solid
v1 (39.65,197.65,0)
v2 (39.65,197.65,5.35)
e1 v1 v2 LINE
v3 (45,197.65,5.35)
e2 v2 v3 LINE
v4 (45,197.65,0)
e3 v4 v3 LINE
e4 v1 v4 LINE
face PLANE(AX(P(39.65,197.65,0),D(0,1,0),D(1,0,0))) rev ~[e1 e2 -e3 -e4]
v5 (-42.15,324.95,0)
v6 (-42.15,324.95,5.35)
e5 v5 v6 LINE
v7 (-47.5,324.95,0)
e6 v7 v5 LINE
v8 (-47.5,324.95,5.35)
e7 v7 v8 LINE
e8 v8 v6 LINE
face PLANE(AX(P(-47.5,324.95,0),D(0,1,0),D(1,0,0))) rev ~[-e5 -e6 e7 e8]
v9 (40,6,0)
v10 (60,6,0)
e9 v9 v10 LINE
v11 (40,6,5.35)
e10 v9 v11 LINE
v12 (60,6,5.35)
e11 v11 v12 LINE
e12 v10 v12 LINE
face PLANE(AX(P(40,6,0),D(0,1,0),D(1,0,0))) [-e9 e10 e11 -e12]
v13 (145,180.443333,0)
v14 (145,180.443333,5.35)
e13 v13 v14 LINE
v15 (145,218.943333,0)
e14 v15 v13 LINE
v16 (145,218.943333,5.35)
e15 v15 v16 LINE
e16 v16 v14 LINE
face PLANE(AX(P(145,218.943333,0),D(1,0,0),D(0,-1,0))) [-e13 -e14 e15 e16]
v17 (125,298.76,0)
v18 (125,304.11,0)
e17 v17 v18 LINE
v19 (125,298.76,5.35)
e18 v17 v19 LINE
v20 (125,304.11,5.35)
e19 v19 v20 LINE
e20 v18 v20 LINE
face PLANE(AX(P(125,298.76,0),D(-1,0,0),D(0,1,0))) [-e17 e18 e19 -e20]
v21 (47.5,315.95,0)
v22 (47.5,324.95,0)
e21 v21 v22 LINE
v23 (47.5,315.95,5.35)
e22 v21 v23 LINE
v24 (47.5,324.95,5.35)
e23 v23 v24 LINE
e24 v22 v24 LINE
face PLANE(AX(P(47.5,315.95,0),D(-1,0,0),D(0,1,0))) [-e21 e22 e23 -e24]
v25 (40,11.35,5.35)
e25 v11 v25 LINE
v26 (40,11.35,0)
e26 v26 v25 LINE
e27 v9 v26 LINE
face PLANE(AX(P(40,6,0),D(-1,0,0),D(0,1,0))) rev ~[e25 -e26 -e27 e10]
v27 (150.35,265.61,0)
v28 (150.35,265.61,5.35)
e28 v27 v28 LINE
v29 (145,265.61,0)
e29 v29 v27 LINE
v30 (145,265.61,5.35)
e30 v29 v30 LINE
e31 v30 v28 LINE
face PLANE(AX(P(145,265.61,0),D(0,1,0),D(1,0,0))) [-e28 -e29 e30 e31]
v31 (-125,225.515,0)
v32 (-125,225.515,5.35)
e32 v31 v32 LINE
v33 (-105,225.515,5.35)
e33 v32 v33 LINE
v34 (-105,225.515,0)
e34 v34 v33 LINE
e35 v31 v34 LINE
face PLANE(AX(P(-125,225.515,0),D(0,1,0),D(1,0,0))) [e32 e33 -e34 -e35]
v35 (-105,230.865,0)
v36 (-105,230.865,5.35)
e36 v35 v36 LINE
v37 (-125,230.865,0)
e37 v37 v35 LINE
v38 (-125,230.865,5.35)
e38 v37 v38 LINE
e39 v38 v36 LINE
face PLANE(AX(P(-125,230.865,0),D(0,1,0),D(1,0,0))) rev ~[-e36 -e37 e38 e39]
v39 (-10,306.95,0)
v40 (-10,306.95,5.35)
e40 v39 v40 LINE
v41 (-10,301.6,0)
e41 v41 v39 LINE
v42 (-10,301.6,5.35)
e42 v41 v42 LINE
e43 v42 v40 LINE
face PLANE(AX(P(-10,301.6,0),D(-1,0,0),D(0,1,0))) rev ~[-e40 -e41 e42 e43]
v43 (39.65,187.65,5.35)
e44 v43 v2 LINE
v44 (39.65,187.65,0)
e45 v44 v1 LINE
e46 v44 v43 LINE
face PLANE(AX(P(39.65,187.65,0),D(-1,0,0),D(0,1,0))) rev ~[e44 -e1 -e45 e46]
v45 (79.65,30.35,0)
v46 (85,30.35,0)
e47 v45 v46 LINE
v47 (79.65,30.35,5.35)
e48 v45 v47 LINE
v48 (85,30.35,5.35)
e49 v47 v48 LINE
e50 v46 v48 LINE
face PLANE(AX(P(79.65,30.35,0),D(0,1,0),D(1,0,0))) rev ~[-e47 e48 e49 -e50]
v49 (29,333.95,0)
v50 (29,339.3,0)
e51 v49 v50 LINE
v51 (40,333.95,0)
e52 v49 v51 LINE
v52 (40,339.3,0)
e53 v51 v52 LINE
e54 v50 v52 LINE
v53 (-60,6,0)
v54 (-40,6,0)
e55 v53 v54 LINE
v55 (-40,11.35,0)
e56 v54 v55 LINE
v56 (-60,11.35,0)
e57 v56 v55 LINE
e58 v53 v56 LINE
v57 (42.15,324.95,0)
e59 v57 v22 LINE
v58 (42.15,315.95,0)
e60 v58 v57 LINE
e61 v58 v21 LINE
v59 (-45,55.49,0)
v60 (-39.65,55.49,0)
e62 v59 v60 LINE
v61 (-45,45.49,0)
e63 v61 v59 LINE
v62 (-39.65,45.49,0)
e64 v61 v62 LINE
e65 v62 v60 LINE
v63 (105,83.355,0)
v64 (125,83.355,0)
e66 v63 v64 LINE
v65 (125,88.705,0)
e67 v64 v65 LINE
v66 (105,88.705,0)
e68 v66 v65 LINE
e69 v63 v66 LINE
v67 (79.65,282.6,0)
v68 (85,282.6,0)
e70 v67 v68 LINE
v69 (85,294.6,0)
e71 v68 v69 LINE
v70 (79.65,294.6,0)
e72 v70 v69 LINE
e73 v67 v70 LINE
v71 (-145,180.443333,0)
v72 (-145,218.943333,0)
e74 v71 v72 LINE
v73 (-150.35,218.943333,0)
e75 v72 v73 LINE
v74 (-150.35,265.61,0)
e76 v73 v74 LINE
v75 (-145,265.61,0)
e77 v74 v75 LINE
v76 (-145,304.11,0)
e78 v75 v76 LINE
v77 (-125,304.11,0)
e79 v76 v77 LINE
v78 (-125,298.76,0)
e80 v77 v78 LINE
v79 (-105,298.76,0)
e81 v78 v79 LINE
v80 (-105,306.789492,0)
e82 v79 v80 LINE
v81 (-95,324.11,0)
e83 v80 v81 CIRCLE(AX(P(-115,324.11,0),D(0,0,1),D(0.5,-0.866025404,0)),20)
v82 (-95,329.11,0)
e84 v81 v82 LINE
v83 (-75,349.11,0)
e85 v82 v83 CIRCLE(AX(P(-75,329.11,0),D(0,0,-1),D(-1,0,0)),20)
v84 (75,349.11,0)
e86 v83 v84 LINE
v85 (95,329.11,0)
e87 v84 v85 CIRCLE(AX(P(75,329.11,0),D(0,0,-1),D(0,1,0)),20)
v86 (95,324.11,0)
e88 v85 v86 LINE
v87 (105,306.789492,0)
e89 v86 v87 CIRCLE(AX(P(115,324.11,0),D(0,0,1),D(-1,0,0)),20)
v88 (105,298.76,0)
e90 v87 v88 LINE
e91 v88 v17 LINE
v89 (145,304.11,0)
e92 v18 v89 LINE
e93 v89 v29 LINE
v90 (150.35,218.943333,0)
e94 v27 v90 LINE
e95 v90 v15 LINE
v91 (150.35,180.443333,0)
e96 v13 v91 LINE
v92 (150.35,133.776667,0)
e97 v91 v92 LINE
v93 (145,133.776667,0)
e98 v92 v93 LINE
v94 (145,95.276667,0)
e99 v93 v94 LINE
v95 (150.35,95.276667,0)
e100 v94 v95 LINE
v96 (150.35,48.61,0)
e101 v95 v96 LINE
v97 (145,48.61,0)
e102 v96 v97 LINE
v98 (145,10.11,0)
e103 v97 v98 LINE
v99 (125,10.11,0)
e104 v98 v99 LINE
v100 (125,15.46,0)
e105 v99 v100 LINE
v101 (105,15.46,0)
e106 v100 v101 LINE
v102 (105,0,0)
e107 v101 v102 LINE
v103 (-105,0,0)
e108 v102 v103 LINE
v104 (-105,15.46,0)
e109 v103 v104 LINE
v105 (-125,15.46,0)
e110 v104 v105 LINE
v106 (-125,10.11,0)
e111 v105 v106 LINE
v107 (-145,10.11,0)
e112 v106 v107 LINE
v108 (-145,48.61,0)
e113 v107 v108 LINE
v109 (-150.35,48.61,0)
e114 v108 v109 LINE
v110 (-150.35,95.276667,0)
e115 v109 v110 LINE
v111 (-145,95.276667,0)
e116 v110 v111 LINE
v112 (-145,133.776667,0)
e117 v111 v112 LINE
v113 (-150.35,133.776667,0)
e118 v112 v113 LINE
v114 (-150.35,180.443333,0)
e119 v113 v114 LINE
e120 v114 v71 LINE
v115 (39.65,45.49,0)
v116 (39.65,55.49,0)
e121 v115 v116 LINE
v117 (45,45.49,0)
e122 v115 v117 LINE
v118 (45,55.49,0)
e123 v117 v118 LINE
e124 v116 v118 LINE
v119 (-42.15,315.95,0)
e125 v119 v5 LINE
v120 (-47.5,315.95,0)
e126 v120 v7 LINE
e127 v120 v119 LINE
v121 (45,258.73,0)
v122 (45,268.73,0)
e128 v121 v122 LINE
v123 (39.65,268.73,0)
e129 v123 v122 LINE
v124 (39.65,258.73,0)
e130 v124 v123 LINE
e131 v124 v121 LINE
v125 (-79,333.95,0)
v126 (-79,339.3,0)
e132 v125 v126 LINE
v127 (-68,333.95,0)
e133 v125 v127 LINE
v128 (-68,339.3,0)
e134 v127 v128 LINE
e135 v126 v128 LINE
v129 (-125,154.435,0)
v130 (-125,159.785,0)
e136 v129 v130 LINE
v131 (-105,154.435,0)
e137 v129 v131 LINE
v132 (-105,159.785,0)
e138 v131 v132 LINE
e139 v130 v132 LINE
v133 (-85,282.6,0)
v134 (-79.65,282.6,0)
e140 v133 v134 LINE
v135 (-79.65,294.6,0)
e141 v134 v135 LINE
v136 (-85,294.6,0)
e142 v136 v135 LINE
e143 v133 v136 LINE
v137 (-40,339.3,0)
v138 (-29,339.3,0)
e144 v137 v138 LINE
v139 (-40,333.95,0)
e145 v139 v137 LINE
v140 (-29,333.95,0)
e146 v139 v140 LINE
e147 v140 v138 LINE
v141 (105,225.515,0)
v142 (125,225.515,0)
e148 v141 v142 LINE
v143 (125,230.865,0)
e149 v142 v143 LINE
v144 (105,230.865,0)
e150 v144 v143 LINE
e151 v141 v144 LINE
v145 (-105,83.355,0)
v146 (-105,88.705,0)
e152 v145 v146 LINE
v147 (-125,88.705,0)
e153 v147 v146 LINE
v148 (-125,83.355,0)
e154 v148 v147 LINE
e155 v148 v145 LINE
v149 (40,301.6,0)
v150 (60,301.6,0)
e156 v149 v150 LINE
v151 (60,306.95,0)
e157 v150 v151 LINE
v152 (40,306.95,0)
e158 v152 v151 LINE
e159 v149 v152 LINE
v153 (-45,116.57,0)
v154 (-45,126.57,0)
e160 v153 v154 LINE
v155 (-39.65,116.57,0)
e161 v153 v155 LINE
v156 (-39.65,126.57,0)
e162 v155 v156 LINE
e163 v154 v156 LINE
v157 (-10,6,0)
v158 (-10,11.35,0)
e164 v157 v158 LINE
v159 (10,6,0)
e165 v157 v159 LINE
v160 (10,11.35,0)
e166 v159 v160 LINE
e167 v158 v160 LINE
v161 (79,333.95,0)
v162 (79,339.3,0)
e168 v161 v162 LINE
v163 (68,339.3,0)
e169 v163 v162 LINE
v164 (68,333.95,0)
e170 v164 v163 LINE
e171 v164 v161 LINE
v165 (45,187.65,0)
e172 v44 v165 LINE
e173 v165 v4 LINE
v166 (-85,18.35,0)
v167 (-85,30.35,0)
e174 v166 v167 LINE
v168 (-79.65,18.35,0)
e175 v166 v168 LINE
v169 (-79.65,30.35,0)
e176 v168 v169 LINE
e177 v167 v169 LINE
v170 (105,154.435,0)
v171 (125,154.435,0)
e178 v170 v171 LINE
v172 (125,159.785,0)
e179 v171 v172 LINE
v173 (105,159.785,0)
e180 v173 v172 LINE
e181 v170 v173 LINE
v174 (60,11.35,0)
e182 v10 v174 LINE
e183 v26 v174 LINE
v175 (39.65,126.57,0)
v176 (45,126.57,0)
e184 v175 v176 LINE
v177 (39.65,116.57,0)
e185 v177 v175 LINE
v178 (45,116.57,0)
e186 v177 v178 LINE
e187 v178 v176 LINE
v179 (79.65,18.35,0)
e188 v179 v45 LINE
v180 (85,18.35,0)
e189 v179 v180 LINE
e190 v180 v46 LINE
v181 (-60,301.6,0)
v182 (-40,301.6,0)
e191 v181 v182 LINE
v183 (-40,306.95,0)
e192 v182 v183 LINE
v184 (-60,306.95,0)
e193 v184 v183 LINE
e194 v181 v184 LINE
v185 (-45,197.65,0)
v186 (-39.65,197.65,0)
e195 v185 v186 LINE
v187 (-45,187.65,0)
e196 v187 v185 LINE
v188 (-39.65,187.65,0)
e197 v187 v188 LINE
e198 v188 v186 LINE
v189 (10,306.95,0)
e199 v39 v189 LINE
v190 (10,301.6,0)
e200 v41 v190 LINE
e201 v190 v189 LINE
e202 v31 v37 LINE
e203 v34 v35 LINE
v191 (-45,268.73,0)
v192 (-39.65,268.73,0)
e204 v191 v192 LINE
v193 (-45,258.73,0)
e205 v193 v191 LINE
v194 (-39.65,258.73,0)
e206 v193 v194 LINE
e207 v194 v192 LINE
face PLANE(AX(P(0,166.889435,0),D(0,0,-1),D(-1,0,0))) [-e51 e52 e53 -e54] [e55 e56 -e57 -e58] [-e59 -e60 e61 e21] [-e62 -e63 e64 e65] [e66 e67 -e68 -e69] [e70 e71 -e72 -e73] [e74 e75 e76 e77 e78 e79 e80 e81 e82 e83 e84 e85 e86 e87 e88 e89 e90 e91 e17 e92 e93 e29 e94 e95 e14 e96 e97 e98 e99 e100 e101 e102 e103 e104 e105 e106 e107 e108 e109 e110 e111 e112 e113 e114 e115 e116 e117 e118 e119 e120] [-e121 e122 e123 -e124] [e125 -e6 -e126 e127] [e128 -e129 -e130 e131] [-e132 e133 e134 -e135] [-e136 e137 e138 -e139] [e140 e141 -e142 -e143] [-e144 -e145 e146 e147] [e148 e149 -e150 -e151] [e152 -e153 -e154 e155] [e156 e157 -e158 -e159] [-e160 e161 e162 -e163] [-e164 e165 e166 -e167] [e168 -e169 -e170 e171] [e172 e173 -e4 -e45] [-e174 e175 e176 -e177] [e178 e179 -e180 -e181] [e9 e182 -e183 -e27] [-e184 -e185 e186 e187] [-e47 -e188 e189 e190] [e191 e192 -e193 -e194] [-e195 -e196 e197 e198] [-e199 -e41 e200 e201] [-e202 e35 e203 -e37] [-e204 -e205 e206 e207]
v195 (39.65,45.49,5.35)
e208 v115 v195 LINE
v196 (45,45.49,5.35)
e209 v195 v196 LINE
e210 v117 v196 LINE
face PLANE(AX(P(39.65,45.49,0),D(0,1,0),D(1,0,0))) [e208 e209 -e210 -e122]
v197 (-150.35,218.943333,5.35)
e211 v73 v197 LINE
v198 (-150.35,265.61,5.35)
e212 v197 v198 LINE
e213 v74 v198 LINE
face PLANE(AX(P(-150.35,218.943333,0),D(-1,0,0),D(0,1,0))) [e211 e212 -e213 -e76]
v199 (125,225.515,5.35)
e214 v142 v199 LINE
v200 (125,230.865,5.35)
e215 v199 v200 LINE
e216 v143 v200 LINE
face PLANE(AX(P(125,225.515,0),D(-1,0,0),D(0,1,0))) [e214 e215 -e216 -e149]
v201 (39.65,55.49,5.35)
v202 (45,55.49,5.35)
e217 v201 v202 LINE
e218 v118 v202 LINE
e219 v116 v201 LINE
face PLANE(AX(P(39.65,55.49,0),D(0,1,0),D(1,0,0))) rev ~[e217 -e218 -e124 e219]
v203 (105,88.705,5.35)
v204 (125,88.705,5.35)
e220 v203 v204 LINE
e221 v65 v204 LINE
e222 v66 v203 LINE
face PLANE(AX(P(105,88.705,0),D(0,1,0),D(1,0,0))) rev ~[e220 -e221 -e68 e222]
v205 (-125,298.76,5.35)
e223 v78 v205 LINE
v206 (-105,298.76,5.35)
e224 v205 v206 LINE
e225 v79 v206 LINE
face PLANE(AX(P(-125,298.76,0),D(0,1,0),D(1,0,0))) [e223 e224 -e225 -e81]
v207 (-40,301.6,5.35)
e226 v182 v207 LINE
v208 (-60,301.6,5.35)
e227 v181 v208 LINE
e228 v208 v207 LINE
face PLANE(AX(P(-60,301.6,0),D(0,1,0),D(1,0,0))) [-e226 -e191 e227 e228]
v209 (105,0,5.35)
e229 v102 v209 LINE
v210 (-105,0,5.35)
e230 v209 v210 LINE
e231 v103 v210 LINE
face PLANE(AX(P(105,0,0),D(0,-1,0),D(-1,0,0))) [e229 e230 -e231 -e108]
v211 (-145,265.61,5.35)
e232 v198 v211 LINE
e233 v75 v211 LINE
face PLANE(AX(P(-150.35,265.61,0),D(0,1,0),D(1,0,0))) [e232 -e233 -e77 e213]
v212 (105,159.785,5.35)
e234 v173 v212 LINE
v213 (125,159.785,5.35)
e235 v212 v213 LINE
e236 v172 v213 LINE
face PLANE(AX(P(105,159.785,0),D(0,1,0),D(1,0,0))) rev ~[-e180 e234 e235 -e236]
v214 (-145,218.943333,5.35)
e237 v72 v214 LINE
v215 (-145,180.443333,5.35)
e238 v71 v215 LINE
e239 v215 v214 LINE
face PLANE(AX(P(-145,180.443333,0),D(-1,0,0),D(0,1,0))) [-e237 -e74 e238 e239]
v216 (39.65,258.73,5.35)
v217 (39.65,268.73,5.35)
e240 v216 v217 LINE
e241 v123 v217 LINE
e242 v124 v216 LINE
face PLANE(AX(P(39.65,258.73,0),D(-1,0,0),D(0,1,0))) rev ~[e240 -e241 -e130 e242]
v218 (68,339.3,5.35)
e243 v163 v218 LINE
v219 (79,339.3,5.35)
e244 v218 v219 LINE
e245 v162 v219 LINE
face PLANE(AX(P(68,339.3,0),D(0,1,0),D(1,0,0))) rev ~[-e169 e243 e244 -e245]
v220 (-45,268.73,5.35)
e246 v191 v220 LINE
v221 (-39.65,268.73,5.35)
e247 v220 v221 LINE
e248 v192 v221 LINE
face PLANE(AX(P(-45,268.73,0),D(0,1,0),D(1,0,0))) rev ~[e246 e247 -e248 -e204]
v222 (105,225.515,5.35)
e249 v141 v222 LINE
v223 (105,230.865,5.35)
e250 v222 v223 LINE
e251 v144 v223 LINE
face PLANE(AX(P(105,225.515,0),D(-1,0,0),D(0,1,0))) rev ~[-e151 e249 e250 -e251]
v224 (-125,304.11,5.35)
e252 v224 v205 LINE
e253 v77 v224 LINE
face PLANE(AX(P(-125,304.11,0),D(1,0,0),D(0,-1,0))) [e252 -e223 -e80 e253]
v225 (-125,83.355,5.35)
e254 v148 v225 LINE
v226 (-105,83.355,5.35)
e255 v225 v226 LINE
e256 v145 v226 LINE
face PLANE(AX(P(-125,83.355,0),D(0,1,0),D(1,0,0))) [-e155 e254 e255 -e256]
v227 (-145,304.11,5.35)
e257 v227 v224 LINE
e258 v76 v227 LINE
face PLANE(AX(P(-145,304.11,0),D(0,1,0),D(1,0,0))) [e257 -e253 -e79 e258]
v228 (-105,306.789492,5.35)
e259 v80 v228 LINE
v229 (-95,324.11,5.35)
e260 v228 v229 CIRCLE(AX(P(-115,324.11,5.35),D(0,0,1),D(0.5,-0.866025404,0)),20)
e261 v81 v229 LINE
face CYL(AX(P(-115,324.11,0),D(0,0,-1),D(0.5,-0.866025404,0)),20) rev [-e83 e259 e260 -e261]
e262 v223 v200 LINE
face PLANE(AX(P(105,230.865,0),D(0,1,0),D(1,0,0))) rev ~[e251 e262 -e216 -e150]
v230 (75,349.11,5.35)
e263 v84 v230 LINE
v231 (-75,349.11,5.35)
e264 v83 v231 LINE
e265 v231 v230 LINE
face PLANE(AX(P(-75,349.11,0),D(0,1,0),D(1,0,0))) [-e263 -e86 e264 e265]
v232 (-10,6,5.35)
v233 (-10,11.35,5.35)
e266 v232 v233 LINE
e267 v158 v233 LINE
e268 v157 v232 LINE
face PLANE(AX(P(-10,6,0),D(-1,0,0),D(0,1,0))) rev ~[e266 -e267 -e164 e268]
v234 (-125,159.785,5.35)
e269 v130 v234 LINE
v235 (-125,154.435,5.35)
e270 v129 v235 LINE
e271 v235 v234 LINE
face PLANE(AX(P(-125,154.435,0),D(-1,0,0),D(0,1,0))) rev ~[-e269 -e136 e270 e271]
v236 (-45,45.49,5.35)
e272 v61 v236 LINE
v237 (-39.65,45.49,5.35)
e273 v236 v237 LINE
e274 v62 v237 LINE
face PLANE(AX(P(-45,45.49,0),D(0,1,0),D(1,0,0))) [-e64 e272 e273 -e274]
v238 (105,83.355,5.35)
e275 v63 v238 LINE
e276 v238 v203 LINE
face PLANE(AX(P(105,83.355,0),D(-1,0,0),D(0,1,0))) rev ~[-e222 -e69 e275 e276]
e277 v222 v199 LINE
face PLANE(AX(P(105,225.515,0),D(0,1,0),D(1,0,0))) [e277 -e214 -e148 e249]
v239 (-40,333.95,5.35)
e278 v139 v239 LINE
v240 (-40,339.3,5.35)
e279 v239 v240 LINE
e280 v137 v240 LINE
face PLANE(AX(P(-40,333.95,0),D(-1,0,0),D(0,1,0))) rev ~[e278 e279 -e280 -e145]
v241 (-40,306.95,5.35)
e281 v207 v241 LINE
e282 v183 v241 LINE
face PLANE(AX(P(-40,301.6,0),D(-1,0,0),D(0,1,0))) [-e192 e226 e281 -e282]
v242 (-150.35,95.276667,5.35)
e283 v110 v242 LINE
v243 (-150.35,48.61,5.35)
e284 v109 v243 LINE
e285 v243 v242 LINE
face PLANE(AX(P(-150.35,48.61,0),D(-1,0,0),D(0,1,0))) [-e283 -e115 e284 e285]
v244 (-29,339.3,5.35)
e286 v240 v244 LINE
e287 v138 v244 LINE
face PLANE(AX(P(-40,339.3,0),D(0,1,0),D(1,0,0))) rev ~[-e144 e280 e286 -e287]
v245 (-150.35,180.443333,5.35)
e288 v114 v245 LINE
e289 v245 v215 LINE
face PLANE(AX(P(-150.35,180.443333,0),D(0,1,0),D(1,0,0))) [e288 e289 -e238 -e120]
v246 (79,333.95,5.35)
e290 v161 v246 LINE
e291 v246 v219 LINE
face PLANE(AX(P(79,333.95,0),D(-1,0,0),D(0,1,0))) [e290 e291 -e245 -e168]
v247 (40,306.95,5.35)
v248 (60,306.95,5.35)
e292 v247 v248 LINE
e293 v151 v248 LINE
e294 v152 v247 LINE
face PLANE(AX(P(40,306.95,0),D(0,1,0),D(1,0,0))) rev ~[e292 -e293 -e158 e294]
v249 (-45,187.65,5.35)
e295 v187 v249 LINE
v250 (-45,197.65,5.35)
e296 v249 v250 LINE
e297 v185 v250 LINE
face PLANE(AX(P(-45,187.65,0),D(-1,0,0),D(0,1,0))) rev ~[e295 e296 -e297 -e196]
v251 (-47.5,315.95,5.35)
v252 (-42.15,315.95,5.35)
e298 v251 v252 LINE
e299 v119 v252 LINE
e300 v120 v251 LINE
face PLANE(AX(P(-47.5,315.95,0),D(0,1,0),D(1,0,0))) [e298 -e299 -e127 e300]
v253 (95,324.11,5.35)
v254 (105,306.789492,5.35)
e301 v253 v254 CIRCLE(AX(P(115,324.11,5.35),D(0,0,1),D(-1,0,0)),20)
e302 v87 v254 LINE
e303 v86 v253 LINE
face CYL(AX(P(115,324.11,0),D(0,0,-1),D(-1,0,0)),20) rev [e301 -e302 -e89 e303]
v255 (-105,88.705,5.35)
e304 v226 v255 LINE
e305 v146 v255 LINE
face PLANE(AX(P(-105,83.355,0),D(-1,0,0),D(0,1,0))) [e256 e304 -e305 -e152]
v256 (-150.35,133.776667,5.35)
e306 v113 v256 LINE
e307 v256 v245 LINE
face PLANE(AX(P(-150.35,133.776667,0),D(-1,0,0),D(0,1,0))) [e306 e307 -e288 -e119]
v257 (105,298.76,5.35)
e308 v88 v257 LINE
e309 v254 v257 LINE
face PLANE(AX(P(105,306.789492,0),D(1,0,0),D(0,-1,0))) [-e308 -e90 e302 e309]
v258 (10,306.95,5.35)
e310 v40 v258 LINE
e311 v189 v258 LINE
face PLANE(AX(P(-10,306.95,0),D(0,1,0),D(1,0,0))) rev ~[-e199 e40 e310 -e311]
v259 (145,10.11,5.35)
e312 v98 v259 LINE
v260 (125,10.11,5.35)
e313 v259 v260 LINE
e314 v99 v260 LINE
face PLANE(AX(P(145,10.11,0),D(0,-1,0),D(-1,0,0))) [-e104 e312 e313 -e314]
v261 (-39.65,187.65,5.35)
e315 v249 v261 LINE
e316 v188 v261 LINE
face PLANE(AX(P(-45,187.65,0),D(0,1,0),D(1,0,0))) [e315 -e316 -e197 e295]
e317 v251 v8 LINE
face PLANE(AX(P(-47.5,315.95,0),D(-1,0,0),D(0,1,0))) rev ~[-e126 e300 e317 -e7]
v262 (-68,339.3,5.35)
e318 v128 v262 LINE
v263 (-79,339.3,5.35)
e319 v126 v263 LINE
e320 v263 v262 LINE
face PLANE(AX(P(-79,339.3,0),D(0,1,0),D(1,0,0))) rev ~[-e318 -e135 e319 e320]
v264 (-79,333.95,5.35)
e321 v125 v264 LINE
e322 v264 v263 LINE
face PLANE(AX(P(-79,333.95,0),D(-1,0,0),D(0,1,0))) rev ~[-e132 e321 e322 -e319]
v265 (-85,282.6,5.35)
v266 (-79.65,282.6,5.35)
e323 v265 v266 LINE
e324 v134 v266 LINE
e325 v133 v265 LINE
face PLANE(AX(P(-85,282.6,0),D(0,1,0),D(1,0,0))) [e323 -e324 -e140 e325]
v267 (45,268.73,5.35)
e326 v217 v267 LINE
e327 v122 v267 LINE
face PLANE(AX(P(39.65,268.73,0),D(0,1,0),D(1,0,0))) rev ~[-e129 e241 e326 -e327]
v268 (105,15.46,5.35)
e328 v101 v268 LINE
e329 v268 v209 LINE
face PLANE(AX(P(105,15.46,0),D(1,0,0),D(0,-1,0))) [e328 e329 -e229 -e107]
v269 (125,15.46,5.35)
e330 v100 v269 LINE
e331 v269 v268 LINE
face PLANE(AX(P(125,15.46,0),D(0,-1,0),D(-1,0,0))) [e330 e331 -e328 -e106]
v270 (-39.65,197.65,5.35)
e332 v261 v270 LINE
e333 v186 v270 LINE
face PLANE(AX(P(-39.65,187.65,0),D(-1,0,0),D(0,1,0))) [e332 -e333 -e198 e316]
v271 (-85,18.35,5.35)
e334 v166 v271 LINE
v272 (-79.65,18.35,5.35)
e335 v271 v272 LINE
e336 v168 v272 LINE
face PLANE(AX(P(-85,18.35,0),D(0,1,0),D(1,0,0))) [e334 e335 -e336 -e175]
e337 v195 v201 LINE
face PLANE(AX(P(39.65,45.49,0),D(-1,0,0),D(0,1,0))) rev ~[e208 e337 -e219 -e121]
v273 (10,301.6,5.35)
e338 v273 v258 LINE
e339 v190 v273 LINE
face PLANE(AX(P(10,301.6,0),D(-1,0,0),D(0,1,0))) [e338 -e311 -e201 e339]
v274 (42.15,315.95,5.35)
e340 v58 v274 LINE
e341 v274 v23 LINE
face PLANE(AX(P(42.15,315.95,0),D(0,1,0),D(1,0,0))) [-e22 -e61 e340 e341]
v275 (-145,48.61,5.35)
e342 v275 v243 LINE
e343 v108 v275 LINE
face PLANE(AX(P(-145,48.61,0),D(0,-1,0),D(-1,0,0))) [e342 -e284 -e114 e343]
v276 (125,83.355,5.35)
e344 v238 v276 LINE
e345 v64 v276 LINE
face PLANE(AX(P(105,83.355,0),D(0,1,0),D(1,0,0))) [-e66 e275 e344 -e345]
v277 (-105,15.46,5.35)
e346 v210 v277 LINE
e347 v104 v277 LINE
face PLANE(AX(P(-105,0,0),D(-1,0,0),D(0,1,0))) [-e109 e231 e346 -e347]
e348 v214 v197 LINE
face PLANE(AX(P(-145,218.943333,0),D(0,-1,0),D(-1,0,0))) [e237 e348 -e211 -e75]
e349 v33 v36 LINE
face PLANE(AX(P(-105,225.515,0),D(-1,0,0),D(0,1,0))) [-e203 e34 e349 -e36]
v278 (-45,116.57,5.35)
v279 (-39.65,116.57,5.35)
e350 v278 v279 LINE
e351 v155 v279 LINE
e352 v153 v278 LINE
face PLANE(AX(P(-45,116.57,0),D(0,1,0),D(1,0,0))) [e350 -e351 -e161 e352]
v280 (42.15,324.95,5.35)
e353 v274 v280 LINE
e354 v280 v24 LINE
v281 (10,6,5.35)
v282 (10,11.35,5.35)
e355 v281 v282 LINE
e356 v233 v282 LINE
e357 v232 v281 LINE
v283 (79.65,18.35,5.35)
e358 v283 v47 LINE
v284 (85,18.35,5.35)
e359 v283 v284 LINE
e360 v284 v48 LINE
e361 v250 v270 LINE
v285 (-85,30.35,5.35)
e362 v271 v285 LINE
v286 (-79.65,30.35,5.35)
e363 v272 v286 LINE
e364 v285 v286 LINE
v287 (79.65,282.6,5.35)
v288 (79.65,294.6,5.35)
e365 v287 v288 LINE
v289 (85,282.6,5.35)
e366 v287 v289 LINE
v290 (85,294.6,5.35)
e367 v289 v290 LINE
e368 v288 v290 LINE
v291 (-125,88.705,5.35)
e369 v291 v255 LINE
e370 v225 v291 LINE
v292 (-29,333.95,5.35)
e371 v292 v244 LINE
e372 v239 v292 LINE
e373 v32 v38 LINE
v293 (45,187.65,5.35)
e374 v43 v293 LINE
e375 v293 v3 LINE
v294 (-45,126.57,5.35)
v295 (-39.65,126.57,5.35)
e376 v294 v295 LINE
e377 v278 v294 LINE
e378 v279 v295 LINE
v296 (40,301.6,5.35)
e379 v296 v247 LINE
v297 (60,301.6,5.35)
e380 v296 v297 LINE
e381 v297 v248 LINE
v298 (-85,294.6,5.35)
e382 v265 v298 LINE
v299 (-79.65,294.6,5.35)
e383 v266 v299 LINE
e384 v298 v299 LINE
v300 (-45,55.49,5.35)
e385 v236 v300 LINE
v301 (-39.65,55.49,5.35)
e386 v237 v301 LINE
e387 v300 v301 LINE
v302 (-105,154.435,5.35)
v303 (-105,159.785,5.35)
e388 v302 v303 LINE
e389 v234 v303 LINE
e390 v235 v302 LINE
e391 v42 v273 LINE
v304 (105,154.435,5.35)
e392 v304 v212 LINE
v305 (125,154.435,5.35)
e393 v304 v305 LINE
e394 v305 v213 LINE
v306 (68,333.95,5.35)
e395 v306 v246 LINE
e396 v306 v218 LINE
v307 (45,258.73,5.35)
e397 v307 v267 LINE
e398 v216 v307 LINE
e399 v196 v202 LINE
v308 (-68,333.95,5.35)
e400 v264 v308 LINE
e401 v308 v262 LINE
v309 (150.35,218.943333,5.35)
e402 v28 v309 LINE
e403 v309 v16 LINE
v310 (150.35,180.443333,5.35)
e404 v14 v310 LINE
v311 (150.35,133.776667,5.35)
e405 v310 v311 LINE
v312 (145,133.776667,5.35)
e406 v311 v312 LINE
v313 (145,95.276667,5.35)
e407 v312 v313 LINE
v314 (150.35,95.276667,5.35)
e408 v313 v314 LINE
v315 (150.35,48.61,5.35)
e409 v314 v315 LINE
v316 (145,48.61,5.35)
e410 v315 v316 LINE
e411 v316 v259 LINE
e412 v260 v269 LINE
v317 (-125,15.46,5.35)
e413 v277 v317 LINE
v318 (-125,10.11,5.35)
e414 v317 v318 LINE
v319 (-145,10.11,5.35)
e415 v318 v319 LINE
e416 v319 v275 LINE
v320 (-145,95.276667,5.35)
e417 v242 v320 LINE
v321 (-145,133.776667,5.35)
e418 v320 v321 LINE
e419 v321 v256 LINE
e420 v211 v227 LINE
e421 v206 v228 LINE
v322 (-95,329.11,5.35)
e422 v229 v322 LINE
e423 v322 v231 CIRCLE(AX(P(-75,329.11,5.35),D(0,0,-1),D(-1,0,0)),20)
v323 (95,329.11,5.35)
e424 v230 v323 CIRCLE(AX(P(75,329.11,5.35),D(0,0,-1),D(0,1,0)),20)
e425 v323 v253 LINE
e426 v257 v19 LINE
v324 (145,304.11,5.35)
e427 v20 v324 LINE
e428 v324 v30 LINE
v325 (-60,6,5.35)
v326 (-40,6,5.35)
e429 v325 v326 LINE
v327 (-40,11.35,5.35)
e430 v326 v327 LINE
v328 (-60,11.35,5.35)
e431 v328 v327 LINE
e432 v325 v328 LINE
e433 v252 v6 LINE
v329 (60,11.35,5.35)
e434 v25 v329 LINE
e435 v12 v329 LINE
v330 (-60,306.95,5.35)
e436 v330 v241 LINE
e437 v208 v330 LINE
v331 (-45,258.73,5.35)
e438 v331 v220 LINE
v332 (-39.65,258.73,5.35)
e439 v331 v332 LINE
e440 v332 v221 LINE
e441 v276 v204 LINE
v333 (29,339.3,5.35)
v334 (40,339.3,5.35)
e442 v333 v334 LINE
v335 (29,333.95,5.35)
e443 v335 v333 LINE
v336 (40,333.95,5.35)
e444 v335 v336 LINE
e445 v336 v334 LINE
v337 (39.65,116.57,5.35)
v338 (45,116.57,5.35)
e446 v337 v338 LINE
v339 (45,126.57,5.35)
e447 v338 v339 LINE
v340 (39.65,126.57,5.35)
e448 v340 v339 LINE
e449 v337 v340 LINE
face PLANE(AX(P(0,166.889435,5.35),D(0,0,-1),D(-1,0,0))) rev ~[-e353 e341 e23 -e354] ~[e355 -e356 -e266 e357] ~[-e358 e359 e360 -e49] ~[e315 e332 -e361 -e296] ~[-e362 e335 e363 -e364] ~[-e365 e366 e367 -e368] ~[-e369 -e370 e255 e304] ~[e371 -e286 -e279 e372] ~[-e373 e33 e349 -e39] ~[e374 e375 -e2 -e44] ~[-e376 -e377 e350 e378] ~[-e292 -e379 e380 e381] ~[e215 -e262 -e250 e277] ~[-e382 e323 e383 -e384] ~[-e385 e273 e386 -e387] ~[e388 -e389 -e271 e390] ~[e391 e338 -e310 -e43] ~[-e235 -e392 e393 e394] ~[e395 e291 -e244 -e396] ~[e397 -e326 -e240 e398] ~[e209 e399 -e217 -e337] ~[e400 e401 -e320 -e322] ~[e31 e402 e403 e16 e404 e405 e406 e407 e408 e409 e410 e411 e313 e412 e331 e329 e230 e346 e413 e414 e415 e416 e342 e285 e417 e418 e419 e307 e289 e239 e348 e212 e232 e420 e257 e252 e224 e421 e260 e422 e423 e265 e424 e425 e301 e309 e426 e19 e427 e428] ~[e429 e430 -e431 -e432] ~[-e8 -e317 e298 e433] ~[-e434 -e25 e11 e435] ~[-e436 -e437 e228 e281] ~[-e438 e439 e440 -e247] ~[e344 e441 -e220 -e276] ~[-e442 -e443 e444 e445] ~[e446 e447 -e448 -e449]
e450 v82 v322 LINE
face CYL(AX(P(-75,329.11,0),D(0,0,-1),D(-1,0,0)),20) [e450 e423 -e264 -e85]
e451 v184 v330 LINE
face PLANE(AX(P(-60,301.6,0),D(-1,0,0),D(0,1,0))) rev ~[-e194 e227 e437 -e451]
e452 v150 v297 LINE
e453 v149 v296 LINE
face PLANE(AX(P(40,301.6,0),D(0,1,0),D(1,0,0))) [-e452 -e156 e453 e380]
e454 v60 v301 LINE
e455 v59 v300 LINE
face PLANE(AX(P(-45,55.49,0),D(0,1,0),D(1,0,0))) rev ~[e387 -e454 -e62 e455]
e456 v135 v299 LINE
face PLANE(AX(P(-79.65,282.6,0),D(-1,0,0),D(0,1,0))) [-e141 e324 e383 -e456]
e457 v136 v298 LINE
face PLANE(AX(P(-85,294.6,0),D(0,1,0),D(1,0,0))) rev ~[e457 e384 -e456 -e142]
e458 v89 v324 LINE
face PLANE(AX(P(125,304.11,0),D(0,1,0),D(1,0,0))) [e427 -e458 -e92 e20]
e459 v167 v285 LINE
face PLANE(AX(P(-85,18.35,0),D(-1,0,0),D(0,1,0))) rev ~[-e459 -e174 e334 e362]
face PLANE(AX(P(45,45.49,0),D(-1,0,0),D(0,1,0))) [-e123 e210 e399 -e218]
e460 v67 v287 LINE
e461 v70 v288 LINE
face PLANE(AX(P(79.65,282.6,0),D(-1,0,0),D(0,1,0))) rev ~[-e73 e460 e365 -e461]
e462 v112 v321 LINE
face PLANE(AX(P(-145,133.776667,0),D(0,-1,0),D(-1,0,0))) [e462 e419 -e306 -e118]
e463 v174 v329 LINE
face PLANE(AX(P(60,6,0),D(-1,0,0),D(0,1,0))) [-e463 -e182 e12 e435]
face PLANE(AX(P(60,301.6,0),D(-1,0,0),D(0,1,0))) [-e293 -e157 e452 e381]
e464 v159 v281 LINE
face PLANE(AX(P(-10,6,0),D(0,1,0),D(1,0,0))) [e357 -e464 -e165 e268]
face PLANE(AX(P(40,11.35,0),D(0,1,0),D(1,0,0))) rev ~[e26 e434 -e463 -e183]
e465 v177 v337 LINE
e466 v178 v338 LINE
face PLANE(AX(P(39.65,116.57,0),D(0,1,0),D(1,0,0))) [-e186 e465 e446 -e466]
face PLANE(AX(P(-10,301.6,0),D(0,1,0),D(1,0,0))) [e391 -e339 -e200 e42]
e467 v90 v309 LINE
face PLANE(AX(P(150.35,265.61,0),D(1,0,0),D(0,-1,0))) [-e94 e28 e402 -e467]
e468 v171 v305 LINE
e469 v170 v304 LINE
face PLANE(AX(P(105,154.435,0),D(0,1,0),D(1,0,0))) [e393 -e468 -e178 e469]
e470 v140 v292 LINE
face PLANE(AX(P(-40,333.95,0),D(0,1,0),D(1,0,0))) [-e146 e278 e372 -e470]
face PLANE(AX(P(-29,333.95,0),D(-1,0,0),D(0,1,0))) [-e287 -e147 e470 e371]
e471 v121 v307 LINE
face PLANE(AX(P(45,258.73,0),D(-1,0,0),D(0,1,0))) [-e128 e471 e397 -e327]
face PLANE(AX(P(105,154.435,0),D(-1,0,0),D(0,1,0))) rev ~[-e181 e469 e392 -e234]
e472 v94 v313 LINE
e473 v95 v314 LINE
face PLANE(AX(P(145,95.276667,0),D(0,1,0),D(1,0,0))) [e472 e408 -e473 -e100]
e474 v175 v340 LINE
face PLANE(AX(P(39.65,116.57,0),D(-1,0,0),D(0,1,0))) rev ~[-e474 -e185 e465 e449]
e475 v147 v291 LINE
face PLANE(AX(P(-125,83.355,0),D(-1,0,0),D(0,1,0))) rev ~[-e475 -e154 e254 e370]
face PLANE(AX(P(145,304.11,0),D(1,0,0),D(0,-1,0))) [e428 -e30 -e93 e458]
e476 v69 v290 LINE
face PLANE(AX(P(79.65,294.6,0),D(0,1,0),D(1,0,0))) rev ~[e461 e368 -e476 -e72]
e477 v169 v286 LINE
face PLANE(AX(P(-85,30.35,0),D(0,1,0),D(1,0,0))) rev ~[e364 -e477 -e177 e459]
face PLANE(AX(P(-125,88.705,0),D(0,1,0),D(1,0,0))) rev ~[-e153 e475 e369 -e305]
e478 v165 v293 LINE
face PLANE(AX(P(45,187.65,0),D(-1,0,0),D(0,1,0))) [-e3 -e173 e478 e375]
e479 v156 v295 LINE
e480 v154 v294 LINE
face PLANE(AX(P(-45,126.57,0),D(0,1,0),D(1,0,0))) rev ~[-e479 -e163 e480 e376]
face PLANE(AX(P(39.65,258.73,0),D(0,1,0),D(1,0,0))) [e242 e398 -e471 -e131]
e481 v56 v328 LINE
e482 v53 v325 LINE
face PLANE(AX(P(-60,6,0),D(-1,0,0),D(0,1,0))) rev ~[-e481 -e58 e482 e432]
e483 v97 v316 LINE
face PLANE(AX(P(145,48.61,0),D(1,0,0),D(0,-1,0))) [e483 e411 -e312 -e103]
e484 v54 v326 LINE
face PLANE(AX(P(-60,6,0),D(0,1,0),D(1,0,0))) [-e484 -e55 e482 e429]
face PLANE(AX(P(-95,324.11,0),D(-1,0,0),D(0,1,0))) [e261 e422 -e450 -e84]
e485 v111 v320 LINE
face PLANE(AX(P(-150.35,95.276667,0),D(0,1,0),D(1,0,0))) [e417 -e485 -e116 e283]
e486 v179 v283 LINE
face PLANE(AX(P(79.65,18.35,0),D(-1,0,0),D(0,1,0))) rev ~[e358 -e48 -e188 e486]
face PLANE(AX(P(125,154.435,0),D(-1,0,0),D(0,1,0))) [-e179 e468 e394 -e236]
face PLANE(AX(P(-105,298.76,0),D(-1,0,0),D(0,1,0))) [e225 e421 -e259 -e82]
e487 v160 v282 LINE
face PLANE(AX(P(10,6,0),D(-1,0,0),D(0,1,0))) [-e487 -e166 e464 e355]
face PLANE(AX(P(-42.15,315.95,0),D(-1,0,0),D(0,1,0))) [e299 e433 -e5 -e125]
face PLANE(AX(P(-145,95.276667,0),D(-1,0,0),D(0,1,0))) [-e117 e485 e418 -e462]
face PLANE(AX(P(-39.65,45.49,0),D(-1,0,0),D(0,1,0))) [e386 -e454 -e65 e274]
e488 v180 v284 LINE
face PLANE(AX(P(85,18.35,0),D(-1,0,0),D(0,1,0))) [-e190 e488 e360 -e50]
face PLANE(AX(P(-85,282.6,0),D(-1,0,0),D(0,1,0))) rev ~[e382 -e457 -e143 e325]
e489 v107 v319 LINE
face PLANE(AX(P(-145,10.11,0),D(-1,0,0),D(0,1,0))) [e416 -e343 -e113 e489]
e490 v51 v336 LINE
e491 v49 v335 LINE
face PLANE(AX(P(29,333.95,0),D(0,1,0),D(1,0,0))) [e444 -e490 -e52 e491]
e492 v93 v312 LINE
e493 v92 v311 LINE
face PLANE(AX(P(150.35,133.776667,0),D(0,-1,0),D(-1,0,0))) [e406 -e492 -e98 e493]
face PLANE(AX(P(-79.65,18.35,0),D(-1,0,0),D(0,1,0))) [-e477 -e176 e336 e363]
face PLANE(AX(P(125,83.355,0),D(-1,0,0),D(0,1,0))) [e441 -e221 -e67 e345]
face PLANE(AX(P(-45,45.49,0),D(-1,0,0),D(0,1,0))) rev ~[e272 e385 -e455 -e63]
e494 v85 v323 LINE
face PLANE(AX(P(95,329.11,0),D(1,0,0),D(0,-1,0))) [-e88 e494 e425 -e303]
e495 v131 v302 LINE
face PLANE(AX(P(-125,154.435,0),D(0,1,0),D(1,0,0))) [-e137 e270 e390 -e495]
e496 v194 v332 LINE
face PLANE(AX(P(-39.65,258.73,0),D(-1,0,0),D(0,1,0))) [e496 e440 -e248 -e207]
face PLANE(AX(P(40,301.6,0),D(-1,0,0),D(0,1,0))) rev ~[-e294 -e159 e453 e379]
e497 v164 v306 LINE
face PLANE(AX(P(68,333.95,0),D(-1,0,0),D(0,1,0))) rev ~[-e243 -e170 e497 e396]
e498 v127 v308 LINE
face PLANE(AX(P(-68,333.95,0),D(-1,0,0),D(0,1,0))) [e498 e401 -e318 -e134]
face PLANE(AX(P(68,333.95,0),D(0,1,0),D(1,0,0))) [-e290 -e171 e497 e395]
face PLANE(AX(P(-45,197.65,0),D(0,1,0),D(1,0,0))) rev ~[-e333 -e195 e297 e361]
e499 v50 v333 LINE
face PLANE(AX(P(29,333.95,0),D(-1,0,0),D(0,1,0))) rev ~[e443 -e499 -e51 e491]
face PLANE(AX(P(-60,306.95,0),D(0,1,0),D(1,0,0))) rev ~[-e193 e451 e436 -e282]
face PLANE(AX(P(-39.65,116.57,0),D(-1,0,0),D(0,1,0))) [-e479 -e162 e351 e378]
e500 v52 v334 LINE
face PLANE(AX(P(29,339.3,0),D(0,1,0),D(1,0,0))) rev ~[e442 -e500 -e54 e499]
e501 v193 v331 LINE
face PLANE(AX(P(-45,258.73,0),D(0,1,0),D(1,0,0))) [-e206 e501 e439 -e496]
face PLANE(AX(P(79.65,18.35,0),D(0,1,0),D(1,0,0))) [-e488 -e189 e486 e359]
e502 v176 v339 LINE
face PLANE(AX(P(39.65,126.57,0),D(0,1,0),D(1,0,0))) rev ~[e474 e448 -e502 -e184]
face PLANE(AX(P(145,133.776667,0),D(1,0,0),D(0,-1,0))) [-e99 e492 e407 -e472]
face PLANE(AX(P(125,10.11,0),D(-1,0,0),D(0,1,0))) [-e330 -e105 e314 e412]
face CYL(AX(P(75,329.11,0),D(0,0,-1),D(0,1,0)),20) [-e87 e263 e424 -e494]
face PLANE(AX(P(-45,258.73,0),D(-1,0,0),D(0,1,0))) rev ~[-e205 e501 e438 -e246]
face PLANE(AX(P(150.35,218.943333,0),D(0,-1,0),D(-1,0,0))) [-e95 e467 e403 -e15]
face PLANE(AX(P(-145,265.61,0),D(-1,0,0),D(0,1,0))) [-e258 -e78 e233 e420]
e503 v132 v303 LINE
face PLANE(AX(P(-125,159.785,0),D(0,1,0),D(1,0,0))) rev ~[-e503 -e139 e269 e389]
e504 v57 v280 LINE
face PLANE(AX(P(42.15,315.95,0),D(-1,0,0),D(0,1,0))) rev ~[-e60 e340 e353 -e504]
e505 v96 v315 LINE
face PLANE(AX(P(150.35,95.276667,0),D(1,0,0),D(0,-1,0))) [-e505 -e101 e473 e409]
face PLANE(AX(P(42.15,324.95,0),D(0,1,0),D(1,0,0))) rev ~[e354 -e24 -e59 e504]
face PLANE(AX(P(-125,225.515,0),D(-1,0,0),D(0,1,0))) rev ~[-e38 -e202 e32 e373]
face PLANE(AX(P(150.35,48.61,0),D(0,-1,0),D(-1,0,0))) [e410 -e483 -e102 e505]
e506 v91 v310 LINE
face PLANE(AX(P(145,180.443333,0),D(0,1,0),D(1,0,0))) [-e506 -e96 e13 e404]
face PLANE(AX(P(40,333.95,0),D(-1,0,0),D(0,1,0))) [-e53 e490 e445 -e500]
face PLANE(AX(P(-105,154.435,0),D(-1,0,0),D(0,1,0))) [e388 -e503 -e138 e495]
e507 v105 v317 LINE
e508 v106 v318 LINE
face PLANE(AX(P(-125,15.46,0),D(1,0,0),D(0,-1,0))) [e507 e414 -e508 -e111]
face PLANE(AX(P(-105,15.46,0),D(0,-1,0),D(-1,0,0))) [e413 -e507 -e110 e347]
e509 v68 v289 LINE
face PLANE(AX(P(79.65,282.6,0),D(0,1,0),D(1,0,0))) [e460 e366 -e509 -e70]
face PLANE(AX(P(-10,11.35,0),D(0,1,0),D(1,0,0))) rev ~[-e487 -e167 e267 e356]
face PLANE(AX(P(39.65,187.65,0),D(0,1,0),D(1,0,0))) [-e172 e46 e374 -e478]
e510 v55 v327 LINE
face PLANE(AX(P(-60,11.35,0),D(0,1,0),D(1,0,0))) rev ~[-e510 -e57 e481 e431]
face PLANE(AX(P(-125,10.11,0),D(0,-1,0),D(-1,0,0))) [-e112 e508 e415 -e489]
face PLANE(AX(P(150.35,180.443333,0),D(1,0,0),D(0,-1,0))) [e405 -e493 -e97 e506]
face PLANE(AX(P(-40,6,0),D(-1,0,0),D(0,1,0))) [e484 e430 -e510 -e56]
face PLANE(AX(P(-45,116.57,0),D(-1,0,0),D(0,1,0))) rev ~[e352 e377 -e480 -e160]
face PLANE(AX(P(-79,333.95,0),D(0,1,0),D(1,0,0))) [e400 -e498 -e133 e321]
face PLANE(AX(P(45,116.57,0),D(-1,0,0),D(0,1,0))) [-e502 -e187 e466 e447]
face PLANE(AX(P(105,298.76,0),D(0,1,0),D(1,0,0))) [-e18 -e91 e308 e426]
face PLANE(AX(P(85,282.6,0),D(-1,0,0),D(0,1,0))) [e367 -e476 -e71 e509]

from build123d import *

# Parameters (mm, degrees)
MODEL_W             = 20
MODEL_H             = 5.35
MODEL_W_2           = 5.35
MODEL_H_2           = 10
MODEL_H_3           = 12
MODEL_W_3           = 11
MODEL_H_4           = 9
BOSS_EXTRUDE1_DEPTH = 5.35


with BuildPart() as part:
    # Model → Boss-Extrude1 (new body)
    with BuildSketch(Plane.XY):
        with BuildLine():
            Line((125, 304.11), (145, 304.11))
            Line((145, 304.11), (145, 265.61))
            Line((145, 265.61), (150.35, 265.61))
            Line((150.35, 265.61), (150.35, 218.943333333))
            Line((150.35, 218.943333333), (145, 218.943333333))
            Line((145, 218.943333333), (145, 180.443333333))
            Line((145, 180.443333333), (150.35, 180.443333333))
            Line((150.35, 180.443333333), (150.35, 133.776666667))
            Line((150.35, 133.776666667), (145, 133.776666667))
            Line((145, 133.776666667), (145, 95.276666667))
            Line((145, 95.276666667), (150.35, 95.276666667))
            Line((150.35, 95.276666667), (150.35, 48.61))
            Line((150.35, 48.61), (145, 48.61))
            Line((145, 48.61), (145, 10.11))
            Line((145, 10.11), (125, 10.11))
            Line((125, 10.11), (125, 15.46))
            Line((125, 15.46), (105, 15.46))
            Line((105, 15.46), (105, 0))
            Line((105, 0), (-105, 0))
            Line((-105, 0), (-105, 15.46))
            Line((-105, 15.46), (-125, 15.46))
            Line((-125, 15.46), (-125, 10.11))
            Line((-125, 10.11), (-145, 10.11))
            Line((-145, 10.11), (-145, 48.61))
            Line((-145, 48.61), (-150.35, 48.61))
            Line((-150.35, 48.61), (-150.35, 95.276666667))
            Line((-150.35, 95.276666667), (-145, 95.276666667))
            Line((-145, 95.276666667), (-145, 133.776666667))
            Line((-145, 133.776666667), (-150.35, 133.776666667))
            Line((-150.35, 133.776666667), (-150.35, 180.443333333))
            Line((-150.35, 180.443333333), (-145, 180.443333333))
            Line((-145, 180.443333333), (-145, 218.943333333))
            Line((-145, 218.943333333), (-150.35, 218.943333333))
            Line((-150.35, 218.943333333), (-150.35, 265.61))
            Line((-150.35, 265.61), (-145, 265.61))
            Line((-145, 265.61), (-145, 304.11))
            Line((-145, 304.11), (-125, 304.11))
            Line((-125, 304.11), (-125, 298.76))
            Line((-125, 298.76), (-105, 298.76))
            Line((-105, 298.76), (-105, 306.789491924))
            ThreePointArc((-105, 306.789491924), (-97.679491924, 314.11), (-95, 324.11))
            Line((-95, 324.11), (-95, 329.11))
            ThreePointArc((-95, 329.11), (-89.142135624, 343.252135624), (-75, 349.11))
            Line((-75, 349.11), (75, 349.11))
            ThreePointArc((75, 349.11), (89.142135624, 343.252135624), (95, 329.11))
            Line((95, 329.11), (95, 324.11))
            ThreePointArc((95, 324.11), (97.679491924, 314.11), (105, 306.789491924))
            Line((105, 306.789491924), (105, 298.76))
            Line((105, 298.76), (125, 298.76))
            Line((125, 298.76), (125, 304.11))
        make_face()
        with Locations((-115, 157.11)):
            Rectangle(MODEL_W, MODEL_H, mode=Mode.SUBTRACT)
        with Locations((-115, 228.19)):
            Rectangle(MODEL_W, MODEL_H, mode=Mode.SUBTRACT)
        with Locations((-115, 86.03)):
            Rectangle(MODEL_W, MODEL_H, mode=Mode.SUBTRACT)
        with Locations((-42.325, 192.65)):
            Rectangle(MODEL_W_2, MODEL_H_2, mode=Mode.SUBTRACT)
        with Locations((-42.325, 263.73)):
            Rectangle(MODEL_W_2, MODEL_H_2, mode=Mode.SUBTRACT)
        with Locations((-42.325, 121.57)):
            Rectangle(MODEL_W_2, MODEL_H_2, mode=Mode.SUBTRACT)
        with Locations((-42.325, 50.49)):
            Rectangle(MODEL_W_2, MODEL_H_2, mode=Mode.SUBTRACT)
        with Locations((-50, 304.275)):
            Rectangle(MODEL_W, MODEL_H, mode=Mode.SUBTRACT)
        with Locations((0, 8.675)):
            Rectangle(MODEL_W, MODEL_H, mode=Mode.SUBTRACT)
        with Locations((-82.325, 288.6)):
            Rectangle(MODEL_W_2, MODEL_H_3, mode=Mode.SUBTRACT)
        with Locations((-50, 8.675)):
            Rectangle(MODEL_W, MODEL_H, mode=Mode.SUBTRACT)
        with Locations((-82.325, 24.35)):
            Rectangle(MODEL_W_2, MODEL_H_3, mode=Mode.SUBTRACT)
        with Locations((0, 304.275)):
            Rectangle(MODEL_W, MODEL_H, mode=Mode.SUBTRACT)
        with Locations((-73.5, 336.625)):
            Rectangle(MODEL_W_3, MODEL_H, mode=Mode.SUBTRACT)
        with Locations((-44.825, 320.45)):
            Rectangle(MODEL_W_2, MODEL_H_4, mode=Mode.SUBTRACT)
        with Locations((-34.5, 336.625)):
            Rectangle(MODEL_W_3, MODEL_H, mode=Mode.SUBTRACT)
        with Locations((50, 304.275)):
            Rectangle(MODEL_W, MODEL_H, mode=Mode.SUBTRACT)
        with Locations((44.825, 320.45)):
            Rectangle(MODEL_W_2, MODEL_H_4, mode=Mode.SUBTRACT)
        with Locations((34.5, 336.625)):
            Rectangle(MODEL_W_3, MODEL_H, mode=Mode.SUBTRACT)
        with Locations((73.5, 336.625)):
            Rectangle(MODEL_W_3, MODEL_H, mode=Mode.SUBTRACT)
        with Locations((115, 86.03)):
            Rectangle(MODEL_W, MODEL_H, mode=Mode.SUBTRACT)
        with Locations((115, 157.11)):
            Rectangle(MODEL_W, MODEL_H, mode=Mode.SUBTRACT)
        with Locations((115, 228.19)):
            Rectangle(MODEL_W, MODEL_H, mode=Mode.SUBTRACT)
        with Locations((82.325, 288.6)):
            Rectangle(MODEL_W_2, MODEL_H_3, mode=Mode.SUBTRACT)
        with Locations((42.325, 263.73)):
            Rectangle(MODEL_W_2, MODEL_H_2, mode=Mode.SUBTRACT)
        with Locations((42.325, 192.65)):
            Rectangle(MODEL_W_2, MODEL_H_2, mode=Mode.SUBTRACT)
        with Locations((42.325, 121.57)):
            Rectangle(MODEL_W_2, MODEL_H_2, mode=Mode.SUBTRACT)
        with Locations((42.325, 50.49)):
            Rectangle(MODEL_W_2, MODEL_H_2, mode=Mode.SUBTRACT)
        with Locations((82.325, 24.35)):
            Rectangle(MODEL_W_2, MODEL_H_3, mode=Mode.SUBTRACT)
        with Locations((50, 8.675)):
            Rectangle(MODEL_W, MODEL_H, mode=Mode.SUBTRACT)
    extrude(amount=BOSS_EXTRUDE1_DEPTH)


solid = part.part
